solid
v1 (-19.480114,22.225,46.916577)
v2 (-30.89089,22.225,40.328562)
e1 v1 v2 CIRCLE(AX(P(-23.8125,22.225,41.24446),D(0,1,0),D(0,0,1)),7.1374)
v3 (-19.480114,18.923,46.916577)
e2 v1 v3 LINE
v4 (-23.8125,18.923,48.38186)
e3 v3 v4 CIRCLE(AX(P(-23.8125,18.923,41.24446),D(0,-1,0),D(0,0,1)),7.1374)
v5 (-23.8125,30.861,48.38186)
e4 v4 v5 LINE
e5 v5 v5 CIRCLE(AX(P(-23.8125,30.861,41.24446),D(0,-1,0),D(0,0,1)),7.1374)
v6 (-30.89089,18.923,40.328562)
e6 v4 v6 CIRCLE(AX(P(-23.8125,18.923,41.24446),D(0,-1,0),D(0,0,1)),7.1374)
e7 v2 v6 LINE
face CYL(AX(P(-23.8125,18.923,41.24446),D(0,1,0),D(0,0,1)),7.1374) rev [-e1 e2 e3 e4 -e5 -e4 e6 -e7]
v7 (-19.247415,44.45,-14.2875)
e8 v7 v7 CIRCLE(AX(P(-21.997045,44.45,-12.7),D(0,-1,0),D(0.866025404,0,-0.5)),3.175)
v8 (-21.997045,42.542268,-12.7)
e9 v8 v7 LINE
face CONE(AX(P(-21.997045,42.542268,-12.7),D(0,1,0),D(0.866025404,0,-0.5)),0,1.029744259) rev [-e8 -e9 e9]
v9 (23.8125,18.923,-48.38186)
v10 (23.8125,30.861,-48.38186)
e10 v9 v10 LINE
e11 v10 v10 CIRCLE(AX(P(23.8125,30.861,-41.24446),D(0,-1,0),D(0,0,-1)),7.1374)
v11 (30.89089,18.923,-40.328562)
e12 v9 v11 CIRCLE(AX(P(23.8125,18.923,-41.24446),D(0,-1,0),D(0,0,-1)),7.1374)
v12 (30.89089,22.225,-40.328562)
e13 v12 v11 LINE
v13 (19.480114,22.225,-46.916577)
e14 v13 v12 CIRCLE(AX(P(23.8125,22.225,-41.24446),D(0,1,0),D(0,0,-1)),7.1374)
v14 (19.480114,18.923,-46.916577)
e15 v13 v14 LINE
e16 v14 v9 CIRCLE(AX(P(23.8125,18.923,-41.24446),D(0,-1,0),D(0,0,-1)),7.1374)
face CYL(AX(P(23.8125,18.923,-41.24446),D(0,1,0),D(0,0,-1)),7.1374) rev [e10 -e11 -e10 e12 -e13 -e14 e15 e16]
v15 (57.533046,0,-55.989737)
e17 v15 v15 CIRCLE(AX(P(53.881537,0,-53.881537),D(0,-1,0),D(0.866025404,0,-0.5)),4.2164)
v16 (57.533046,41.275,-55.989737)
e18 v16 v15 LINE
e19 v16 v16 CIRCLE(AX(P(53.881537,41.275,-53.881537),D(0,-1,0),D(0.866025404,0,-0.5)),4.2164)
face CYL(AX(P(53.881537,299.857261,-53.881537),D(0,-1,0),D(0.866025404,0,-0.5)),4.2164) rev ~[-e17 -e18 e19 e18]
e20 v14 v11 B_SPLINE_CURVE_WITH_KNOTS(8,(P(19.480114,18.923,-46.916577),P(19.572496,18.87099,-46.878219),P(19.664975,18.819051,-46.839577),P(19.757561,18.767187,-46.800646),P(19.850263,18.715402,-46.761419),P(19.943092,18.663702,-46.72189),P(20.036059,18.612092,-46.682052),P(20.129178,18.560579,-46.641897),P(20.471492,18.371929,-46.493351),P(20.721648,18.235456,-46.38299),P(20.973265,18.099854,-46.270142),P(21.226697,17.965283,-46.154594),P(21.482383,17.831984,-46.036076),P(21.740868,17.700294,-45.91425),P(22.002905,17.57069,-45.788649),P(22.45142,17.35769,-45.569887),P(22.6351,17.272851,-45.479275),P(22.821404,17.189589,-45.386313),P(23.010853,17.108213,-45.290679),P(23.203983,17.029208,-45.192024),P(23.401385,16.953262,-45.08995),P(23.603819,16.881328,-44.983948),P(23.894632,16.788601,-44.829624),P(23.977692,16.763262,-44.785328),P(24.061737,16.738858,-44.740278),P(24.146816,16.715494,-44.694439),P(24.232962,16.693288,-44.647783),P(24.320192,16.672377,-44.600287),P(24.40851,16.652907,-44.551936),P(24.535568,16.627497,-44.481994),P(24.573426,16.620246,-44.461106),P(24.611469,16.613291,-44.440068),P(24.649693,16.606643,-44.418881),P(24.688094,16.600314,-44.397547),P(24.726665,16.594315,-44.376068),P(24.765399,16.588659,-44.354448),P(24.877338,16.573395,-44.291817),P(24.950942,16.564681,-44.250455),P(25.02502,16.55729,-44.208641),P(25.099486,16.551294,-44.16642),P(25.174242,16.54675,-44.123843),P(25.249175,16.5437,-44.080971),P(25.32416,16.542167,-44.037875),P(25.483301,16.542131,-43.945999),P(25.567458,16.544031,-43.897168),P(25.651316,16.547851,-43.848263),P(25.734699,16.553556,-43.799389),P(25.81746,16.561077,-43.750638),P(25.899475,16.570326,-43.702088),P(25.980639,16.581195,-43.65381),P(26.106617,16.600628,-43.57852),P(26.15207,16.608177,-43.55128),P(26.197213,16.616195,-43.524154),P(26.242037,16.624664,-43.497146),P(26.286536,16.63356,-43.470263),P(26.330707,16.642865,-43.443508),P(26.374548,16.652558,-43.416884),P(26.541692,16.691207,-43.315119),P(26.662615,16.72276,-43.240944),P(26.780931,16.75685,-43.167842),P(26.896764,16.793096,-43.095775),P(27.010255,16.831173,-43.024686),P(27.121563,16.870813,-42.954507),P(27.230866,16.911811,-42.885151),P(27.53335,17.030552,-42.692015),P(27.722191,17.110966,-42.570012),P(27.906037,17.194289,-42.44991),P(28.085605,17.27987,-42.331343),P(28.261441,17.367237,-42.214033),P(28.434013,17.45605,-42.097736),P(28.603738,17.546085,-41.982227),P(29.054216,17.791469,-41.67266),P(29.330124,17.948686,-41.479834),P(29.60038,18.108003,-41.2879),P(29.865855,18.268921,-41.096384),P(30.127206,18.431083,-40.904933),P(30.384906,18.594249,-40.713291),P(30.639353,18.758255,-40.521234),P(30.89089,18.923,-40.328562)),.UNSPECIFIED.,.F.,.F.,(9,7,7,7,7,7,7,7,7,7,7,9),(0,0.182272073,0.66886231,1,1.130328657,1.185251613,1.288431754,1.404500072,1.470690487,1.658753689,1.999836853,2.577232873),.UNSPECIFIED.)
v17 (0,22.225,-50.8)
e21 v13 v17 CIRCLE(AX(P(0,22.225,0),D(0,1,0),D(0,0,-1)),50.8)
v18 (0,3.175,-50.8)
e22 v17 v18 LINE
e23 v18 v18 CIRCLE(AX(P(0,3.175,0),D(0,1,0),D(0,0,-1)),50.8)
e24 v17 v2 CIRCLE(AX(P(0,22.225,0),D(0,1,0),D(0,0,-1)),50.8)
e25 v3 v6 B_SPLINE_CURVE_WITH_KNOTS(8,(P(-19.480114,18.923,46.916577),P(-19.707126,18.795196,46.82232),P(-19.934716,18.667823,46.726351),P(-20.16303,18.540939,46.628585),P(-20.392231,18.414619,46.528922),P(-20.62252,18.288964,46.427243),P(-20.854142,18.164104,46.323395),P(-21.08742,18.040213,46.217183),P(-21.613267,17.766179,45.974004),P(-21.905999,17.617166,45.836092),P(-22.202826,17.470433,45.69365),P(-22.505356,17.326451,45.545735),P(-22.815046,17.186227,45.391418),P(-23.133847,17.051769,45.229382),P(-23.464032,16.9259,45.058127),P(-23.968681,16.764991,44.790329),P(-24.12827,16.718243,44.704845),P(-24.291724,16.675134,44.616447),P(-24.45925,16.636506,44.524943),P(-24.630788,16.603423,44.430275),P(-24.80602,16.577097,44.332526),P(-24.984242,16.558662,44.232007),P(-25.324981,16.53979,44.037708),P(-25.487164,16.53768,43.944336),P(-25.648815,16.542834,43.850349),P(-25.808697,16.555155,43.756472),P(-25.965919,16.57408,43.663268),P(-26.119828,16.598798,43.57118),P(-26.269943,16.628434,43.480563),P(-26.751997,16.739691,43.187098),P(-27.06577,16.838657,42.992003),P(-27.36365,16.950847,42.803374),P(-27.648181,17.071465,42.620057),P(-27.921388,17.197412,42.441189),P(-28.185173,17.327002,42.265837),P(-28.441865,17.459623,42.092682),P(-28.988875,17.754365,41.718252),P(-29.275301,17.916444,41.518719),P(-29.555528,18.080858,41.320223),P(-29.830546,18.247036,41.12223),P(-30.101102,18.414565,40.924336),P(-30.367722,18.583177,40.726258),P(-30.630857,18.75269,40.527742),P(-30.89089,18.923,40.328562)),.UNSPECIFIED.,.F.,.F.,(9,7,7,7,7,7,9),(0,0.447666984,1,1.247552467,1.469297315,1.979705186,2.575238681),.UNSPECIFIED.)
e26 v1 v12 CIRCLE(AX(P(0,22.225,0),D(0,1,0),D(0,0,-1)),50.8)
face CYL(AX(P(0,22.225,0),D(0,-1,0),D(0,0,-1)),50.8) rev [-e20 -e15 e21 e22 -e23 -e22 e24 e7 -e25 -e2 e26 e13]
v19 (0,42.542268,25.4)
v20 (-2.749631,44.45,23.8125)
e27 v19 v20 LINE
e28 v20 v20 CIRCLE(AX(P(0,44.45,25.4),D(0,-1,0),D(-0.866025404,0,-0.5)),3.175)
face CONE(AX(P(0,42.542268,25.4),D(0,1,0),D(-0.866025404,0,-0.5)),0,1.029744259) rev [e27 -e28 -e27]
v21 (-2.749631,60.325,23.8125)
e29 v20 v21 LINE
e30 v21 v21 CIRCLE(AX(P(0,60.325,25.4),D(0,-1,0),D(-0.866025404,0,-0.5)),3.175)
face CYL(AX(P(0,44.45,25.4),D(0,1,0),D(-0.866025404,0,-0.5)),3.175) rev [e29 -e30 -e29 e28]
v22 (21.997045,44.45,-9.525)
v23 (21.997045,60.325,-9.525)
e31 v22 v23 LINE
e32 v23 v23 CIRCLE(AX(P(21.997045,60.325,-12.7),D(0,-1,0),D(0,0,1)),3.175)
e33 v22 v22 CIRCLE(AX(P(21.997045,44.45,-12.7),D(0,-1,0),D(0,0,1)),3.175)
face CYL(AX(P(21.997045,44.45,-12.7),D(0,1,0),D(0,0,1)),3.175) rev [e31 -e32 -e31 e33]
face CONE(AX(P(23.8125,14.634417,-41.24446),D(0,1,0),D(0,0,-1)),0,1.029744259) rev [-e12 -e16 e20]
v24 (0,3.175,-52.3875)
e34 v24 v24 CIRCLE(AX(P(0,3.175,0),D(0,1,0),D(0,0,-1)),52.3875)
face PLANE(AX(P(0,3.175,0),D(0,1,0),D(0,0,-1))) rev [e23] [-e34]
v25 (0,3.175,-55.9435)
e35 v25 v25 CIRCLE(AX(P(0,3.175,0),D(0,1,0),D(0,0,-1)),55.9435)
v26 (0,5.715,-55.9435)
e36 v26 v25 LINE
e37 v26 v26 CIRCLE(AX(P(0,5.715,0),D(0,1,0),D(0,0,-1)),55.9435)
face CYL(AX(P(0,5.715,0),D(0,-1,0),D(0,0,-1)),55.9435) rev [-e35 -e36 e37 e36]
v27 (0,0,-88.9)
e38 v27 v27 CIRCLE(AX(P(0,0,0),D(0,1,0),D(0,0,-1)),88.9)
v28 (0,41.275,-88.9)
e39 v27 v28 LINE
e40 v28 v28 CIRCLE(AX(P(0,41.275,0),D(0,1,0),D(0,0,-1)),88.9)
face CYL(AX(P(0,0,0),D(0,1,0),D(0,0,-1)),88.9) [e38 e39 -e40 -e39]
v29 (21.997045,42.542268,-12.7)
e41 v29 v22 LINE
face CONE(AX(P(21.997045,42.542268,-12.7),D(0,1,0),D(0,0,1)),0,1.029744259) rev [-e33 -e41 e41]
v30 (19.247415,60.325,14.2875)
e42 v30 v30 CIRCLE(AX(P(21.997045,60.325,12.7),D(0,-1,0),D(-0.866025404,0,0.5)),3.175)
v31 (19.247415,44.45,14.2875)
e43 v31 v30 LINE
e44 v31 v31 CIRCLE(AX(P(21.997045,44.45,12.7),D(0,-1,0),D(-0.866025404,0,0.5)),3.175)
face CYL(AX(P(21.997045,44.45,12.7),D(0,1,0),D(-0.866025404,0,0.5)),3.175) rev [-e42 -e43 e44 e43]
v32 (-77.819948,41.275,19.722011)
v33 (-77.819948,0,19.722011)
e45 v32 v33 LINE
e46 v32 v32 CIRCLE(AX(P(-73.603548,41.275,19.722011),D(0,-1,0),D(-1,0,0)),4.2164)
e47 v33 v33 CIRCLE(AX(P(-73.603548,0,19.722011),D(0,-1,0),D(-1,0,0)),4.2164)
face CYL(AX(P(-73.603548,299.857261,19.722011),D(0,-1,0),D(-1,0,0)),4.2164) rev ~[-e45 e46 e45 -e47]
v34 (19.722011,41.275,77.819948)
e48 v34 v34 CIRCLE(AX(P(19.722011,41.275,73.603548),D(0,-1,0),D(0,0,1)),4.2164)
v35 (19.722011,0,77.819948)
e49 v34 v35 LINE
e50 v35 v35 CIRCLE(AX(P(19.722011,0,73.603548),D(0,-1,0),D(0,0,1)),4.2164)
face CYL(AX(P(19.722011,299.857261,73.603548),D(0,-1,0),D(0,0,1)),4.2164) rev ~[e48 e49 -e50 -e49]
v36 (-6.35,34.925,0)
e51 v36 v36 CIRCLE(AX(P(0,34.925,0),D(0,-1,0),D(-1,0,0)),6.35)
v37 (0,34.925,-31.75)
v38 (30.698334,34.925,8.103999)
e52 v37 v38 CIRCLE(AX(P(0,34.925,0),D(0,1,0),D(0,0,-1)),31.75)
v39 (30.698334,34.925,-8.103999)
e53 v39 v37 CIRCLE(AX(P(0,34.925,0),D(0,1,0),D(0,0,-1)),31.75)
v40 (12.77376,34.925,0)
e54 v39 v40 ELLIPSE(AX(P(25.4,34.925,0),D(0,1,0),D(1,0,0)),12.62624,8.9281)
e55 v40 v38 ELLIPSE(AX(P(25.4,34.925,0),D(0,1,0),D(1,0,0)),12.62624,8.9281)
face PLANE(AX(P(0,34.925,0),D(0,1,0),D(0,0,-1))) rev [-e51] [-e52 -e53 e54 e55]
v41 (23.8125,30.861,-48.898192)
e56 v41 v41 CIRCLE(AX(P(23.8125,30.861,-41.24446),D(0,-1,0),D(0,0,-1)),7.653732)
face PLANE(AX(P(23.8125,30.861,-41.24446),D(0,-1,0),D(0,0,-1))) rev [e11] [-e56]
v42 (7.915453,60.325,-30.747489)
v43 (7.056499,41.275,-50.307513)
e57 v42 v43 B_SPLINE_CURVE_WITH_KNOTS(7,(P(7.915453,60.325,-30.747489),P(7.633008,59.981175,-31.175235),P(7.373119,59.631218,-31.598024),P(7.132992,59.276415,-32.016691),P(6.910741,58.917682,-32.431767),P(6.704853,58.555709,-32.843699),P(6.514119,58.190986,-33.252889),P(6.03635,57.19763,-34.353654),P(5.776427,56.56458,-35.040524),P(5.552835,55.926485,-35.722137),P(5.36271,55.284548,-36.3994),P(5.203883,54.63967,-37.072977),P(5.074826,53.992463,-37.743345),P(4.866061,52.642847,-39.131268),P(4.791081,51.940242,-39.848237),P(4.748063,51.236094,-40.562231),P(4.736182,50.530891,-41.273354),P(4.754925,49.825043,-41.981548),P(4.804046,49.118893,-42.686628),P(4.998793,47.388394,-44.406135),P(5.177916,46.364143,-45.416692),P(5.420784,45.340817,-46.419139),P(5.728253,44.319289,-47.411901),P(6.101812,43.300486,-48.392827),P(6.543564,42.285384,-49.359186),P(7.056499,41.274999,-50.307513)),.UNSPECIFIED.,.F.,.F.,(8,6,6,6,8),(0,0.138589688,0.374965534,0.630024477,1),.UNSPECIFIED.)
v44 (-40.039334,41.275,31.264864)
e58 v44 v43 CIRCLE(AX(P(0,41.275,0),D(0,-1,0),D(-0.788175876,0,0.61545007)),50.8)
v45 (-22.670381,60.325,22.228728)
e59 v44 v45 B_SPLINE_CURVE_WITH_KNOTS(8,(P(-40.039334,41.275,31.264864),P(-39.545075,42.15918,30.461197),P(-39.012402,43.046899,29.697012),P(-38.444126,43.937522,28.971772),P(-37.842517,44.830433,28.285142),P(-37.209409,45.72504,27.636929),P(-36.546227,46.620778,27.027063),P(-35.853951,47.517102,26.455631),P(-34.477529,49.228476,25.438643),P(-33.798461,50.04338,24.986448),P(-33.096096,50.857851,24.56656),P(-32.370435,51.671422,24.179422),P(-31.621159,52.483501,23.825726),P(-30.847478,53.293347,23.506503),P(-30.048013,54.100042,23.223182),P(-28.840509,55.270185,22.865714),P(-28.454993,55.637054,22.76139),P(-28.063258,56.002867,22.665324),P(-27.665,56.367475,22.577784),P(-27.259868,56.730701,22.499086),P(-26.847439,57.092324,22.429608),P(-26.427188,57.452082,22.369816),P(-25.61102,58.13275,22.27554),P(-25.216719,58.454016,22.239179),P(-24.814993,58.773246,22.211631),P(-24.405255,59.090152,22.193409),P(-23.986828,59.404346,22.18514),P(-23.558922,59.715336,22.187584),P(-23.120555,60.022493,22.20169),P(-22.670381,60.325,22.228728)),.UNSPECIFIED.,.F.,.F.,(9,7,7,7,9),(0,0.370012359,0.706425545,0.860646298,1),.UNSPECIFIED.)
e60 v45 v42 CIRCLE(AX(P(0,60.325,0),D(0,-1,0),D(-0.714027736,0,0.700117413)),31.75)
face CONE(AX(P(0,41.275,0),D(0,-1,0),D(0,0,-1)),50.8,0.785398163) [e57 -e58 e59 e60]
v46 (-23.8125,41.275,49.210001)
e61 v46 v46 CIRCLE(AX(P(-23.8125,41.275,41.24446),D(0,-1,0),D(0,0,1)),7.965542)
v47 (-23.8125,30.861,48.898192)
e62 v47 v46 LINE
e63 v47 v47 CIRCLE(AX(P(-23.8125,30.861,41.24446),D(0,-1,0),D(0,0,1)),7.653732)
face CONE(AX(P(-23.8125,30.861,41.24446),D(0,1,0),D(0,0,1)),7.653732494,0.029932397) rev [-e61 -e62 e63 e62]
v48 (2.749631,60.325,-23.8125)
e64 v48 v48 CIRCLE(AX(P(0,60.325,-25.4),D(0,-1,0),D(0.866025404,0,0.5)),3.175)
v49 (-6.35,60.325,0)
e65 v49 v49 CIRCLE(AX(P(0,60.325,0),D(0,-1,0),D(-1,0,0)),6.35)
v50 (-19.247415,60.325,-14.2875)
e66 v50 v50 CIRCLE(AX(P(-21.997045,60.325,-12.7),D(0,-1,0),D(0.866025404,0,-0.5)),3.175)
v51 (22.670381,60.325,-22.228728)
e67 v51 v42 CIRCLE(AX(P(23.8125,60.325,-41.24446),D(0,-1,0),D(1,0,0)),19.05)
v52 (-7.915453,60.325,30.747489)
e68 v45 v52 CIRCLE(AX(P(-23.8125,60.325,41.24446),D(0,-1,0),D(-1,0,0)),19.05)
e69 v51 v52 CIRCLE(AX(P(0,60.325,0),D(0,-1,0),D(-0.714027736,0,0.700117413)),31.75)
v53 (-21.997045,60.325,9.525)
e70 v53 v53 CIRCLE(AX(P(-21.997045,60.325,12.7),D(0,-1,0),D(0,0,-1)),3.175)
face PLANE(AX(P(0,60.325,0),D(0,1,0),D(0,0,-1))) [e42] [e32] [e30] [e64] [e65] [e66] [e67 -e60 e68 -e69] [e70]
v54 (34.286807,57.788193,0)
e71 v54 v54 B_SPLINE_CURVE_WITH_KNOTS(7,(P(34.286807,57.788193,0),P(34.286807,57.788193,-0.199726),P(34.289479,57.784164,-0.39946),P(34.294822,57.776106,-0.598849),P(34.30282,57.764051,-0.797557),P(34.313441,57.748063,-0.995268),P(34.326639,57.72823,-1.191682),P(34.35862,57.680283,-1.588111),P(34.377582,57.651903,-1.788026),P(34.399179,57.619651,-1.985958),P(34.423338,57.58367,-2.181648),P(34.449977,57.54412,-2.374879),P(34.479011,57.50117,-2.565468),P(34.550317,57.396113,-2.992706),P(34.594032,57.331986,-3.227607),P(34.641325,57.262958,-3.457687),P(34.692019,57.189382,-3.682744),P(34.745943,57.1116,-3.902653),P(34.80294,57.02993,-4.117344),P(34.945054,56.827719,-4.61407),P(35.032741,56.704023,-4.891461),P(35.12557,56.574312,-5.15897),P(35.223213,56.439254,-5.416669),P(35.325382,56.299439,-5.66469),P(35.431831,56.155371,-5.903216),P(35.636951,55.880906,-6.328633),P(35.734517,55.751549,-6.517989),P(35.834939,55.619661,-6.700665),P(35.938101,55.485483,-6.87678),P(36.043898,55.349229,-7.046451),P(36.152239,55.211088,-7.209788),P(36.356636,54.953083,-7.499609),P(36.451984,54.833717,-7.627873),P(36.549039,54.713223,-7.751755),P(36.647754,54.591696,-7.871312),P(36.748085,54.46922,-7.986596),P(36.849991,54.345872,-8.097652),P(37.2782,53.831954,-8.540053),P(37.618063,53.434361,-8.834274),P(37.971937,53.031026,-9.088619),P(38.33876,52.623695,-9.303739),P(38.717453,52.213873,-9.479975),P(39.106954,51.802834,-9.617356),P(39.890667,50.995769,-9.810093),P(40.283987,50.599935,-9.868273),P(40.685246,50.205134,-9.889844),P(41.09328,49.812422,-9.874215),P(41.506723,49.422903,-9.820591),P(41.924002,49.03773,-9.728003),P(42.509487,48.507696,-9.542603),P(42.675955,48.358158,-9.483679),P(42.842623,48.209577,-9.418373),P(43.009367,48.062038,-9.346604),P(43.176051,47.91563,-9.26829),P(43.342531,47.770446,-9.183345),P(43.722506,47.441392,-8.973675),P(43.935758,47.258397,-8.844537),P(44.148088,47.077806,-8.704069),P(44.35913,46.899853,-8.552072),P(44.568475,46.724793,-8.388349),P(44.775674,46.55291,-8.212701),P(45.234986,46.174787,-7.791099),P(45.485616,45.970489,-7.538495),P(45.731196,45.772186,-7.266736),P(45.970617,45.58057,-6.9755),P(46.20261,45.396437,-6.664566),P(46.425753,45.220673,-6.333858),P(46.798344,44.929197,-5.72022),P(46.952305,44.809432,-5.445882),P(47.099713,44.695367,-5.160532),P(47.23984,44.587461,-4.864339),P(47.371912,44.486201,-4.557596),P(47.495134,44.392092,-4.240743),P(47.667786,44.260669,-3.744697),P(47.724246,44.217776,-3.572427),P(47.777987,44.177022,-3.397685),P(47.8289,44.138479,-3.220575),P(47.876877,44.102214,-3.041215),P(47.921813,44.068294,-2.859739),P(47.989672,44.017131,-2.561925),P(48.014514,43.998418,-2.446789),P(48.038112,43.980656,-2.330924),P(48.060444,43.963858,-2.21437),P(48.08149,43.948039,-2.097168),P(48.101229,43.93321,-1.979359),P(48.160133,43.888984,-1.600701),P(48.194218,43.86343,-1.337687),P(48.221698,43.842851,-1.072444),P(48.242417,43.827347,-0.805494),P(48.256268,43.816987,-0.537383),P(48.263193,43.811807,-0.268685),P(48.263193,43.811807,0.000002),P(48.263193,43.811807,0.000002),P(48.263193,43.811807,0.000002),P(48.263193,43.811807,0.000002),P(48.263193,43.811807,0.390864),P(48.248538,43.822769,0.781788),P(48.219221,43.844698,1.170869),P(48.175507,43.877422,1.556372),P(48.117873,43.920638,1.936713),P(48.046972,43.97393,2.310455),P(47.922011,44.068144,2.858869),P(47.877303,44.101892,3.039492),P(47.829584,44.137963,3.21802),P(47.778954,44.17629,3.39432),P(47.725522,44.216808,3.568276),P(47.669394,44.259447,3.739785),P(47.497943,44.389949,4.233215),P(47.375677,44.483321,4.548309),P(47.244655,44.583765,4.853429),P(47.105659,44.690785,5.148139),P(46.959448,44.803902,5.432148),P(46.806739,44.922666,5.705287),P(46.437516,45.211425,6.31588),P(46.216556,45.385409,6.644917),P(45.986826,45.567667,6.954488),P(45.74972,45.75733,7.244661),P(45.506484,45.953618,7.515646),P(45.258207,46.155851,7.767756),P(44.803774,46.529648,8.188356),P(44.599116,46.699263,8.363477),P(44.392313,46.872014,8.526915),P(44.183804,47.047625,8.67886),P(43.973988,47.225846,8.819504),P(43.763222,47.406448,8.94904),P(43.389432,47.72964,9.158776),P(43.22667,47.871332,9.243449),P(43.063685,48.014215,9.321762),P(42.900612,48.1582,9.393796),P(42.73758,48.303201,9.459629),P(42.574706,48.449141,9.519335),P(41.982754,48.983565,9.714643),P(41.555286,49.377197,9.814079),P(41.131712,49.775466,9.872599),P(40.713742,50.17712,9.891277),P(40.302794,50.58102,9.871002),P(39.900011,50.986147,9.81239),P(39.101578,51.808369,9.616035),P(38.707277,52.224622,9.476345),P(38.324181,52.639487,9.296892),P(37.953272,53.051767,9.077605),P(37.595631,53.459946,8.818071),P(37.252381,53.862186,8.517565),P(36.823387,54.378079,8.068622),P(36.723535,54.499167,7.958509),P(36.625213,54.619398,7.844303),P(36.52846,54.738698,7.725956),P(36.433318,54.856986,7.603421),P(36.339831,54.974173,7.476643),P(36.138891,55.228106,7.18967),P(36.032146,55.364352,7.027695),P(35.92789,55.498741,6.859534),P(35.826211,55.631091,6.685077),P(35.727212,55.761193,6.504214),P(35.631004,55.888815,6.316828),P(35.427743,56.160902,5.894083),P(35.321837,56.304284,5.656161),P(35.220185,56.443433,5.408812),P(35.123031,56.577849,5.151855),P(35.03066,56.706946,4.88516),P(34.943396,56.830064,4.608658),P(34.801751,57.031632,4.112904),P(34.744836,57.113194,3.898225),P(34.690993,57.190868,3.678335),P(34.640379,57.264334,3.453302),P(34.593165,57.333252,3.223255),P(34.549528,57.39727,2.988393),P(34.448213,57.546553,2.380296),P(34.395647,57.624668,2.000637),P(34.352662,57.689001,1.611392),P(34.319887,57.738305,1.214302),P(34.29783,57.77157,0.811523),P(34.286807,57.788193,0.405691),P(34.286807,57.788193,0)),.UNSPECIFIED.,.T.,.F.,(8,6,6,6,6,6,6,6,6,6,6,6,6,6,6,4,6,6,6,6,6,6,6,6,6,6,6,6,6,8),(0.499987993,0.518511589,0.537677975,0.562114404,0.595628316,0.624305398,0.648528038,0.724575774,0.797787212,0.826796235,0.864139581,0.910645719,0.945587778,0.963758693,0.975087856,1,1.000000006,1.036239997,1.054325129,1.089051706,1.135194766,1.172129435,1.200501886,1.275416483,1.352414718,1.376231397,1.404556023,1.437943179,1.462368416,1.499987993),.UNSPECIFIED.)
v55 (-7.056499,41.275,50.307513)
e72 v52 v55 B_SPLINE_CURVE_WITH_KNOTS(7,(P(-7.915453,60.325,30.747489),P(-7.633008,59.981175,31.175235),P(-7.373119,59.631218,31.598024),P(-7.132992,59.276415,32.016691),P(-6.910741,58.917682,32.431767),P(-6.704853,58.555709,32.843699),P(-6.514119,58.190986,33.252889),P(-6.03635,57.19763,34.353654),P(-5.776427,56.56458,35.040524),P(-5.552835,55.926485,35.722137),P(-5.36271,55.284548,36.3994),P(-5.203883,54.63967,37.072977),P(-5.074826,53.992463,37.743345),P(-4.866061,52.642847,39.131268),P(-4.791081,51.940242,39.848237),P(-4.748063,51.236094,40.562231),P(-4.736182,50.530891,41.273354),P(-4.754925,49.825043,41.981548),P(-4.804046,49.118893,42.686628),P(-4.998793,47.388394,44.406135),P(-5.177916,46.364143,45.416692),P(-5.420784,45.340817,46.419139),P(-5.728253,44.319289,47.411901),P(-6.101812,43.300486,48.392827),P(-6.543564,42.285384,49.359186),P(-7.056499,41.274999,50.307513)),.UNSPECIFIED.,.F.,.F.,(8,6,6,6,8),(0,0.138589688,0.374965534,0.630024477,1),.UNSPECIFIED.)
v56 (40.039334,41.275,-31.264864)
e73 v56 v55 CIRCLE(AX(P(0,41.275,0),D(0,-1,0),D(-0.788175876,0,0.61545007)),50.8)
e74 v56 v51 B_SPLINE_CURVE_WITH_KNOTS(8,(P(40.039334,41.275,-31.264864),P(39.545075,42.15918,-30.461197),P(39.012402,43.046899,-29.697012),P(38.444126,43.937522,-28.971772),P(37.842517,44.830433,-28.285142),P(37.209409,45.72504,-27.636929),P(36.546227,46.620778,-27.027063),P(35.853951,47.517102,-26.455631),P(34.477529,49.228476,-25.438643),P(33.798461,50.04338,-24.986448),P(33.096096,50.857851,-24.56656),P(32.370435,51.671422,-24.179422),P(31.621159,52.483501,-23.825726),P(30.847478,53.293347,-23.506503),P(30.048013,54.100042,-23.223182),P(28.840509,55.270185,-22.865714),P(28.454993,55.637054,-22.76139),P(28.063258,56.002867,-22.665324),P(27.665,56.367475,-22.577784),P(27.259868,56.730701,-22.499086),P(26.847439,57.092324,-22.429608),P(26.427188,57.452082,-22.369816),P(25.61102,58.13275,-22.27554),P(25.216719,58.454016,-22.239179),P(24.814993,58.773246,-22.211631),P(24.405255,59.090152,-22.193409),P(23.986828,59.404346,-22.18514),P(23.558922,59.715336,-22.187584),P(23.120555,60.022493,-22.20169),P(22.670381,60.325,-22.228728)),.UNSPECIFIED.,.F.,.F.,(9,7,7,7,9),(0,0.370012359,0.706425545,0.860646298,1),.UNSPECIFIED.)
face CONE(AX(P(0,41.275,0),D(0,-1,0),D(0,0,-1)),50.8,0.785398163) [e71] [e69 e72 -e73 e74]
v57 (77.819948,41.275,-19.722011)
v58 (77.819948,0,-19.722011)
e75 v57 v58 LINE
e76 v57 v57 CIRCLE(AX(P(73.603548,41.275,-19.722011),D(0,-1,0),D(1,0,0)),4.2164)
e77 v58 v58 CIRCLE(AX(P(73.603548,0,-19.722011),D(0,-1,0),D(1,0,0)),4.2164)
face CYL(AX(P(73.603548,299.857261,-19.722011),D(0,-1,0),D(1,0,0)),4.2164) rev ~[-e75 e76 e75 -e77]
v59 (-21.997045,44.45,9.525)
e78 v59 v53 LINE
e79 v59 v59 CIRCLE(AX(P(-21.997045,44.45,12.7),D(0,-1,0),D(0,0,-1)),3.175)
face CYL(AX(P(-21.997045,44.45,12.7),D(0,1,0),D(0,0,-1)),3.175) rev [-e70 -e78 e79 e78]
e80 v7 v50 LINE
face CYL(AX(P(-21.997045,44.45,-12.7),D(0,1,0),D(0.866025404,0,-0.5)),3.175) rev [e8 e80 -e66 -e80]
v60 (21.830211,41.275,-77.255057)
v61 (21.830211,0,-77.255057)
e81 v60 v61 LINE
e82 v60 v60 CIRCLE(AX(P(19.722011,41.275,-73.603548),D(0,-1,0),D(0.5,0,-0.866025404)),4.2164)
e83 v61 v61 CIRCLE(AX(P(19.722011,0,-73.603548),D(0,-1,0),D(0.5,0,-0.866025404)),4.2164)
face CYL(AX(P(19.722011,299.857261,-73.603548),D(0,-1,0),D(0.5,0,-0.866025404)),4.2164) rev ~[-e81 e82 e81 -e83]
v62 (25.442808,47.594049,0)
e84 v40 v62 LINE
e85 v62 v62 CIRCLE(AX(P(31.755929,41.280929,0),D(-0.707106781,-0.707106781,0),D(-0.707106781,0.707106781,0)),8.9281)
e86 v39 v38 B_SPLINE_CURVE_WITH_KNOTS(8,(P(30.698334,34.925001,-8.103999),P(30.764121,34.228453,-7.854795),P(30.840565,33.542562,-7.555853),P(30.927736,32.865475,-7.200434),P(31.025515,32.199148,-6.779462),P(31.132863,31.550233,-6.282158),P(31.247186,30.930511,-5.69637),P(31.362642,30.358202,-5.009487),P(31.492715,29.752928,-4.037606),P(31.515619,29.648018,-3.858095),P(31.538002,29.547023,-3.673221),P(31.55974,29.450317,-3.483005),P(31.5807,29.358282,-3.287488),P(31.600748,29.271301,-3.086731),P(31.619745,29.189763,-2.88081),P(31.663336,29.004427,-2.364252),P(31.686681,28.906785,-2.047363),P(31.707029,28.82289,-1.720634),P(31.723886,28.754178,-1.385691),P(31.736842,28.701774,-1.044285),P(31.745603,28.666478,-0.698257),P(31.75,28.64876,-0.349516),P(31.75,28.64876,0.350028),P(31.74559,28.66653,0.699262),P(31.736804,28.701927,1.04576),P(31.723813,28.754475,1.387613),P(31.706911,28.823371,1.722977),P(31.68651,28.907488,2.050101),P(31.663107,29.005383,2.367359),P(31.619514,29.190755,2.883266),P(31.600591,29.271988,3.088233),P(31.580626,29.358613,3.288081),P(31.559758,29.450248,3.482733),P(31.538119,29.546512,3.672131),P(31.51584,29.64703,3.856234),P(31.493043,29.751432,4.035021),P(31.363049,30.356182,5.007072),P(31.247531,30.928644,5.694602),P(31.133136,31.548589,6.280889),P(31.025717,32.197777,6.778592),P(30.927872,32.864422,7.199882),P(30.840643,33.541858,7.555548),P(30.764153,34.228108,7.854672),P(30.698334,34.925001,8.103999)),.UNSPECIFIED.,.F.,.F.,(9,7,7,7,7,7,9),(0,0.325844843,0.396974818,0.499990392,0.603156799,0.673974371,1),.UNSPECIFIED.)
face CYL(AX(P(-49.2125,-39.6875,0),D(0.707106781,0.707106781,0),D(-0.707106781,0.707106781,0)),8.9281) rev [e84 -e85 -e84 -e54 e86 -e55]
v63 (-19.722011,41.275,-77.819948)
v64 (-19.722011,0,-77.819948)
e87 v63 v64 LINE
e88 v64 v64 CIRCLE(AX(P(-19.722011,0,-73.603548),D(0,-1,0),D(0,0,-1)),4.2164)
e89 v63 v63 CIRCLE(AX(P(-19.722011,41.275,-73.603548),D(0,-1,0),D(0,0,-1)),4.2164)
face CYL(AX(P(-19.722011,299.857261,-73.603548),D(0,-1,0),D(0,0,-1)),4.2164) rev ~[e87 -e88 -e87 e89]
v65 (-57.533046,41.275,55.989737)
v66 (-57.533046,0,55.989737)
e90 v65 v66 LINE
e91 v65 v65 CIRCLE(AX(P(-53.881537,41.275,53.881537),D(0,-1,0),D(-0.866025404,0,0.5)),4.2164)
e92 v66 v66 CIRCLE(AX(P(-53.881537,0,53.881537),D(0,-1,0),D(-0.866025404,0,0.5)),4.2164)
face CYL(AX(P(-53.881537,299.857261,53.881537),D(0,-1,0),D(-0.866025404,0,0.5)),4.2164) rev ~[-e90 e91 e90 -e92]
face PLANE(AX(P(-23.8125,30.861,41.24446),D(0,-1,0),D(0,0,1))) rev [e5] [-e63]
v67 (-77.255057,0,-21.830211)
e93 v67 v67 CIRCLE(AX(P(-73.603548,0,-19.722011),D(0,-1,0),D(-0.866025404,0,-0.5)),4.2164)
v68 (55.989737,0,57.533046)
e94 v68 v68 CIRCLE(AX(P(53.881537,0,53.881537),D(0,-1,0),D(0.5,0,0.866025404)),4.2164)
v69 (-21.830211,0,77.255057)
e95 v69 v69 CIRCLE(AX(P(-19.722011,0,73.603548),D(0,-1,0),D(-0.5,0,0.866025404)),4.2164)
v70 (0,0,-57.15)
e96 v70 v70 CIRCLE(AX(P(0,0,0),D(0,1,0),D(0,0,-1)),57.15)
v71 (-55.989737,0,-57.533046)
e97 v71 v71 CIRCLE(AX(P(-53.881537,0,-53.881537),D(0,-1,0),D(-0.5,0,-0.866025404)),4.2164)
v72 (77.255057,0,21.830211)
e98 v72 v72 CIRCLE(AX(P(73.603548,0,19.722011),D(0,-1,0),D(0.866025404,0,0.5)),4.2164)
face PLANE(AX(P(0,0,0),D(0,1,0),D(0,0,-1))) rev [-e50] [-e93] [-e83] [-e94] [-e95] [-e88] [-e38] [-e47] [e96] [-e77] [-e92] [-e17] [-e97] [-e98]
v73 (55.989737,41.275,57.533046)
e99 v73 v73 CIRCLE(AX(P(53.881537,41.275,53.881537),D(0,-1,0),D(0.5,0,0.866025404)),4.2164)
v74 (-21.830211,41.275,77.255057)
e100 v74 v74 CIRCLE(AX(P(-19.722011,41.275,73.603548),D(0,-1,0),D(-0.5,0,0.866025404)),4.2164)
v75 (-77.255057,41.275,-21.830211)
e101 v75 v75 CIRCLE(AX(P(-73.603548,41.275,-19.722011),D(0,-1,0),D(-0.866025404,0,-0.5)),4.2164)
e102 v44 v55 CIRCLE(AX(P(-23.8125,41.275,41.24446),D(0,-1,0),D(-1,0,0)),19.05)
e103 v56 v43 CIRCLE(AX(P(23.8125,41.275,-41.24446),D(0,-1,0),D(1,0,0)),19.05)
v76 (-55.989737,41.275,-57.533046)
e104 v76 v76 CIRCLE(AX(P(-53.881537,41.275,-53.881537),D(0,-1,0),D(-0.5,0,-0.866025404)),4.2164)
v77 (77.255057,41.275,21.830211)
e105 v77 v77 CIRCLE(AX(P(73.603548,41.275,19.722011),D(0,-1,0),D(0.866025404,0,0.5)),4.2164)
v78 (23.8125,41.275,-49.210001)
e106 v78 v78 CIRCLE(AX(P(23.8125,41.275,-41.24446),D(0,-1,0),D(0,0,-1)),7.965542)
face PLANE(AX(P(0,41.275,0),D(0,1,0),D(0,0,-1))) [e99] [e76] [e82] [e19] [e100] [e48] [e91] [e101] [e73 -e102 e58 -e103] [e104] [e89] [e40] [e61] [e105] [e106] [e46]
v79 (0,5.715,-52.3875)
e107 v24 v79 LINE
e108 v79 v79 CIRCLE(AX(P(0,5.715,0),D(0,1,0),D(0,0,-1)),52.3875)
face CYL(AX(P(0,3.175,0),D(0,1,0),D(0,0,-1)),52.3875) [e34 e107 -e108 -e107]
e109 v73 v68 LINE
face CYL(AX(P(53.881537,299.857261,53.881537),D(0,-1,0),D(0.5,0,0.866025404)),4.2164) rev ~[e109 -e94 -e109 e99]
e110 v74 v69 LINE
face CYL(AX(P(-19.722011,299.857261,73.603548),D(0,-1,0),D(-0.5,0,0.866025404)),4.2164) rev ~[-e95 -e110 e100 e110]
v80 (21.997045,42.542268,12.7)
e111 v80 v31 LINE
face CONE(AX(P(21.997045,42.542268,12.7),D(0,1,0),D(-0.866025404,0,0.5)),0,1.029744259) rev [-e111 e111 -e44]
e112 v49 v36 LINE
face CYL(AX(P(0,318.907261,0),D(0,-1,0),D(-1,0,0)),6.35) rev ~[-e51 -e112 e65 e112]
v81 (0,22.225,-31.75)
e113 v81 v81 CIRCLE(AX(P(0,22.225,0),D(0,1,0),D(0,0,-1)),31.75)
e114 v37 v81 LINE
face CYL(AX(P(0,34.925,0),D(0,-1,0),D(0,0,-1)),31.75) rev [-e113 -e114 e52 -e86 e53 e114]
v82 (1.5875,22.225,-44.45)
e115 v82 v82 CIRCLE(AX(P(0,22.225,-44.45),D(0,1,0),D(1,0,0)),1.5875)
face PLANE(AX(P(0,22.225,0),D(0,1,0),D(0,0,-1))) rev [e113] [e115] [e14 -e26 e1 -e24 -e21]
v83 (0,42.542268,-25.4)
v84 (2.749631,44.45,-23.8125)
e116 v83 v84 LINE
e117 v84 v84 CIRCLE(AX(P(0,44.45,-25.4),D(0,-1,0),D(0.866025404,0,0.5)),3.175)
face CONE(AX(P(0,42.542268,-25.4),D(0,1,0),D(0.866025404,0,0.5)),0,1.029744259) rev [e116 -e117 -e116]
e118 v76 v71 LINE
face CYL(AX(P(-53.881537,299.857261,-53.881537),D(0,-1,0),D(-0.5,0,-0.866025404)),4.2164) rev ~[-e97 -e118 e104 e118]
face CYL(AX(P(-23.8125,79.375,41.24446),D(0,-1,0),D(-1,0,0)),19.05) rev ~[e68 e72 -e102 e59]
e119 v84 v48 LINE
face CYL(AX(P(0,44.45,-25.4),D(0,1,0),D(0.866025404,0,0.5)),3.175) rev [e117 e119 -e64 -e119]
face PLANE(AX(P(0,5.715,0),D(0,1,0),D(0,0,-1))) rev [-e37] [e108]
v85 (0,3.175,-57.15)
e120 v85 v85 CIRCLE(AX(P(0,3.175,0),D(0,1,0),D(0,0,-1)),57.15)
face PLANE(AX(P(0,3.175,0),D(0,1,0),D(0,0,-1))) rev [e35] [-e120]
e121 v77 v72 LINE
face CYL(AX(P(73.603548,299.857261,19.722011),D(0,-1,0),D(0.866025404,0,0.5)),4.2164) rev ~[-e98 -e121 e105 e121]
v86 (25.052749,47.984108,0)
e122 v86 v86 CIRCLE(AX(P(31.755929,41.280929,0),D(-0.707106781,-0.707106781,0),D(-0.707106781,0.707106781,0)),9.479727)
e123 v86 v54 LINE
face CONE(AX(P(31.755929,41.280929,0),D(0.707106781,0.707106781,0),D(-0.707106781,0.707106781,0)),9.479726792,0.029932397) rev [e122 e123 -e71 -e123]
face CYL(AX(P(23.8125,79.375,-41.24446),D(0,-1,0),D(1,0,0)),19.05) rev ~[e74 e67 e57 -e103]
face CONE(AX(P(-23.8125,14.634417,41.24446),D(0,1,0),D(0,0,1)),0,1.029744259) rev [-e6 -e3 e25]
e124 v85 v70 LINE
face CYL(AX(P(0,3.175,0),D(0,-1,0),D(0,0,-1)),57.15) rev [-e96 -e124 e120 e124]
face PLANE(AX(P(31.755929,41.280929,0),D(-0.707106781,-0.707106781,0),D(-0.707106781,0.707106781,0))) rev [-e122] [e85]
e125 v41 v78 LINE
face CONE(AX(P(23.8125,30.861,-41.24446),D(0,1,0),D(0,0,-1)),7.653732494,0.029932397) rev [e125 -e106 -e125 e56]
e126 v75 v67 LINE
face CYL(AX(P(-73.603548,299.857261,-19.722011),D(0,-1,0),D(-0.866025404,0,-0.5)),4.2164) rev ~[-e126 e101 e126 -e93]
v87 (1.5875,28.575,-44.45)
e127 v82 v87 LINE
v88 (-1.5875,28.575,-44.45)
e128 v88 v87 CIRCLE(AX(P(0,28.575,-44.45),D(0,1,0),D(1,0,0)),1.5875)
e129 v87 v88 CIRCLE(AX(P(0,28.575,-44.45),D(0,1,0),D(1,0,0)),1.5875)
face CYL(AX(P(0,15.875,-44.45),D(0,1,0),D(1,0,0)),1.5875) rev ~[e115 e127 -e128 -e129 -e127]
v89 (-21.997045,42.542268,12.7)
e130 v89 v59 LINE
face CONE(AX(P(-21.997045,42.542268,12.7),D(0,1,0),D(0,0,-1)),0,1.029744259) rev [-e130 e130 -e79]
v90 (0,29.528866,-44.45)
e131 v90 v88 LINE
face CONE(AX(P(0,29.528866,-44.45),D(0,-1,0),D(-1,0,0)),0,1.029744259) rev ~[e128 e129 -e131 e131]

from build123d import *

# Parameters (mm, degrees)
F_5_16_CLEARANCE_HOLE1_D         = 8.4328
CIRPATTERN1_COUNT                = 12
F_1_2_0_5_DIAMETER_HOLE1_D       = 12.7
F_1_1_5_DIAMETER_HOLE1_D         = 38.1
F_1_1_5_DIAMETER_HOLE1_DEPTH     = 19.05
CIRPATTERN2_COUNT                = 6
CIRPATTERN3_COUNT                = 2
F_1_8_0_125_DIAMETER_HOLE1_D     = 3.175
F_1_8_0_125_DIAMETER_HOLE1_DEPTH = 6.35
F_1_8_0_125_DIAMETER_HOLE1_TIP   = 0.953866233


with BuildPart() as part:
    # Sketch1 → Revolve1 (revolve)
    with BuildSketch(Plane.XY, mode=Mode.PRIVATE) as revolve1_sk:
        Polygon((-88.9, 0), (-88.9, 41.275), (-50.8, 41.275), (-31.75, 60.325), (0, 60.325), (0, 34.925), (-31.75, 34.925), (-31.75, 22.225), (-50.8, 22.225), (-50.8, 3.175), (-52.3875, 3.175), (-52.3875, 5.715), (-55.9435, 5.715), (-55.9435, 3.175), (-57.15, 3.175), (-57.15, 0), align=None)
    revolve(revolve1_sk.sketch.rotate(Axis((0, 0, 0), (0, 1, 0)), 270), axis=Axis((0, 0, 0), (0, 1, 0)))

    # 5/16 Clearance Hole1 (through all)
    with Locations(Plane(origin=(0, 41.275, 0), x_dir=(1, 0, 0), z_dir=(0, 1, 0))):
        with Locations((-73.603547963, -19.722011237)):
            f_5_16_clearance_hole1 = Hole(F_5_16_CLEARANCE_HOLE1_D / 2)

    # CirPattern1: 5/16 Clearance Hole1 ×12 about axis
    cirpattern1_axis = Axis((0, 0, 0), (0, 1, 0))
    for i in range(1, CIRPATTERN1_COUNT):
        add(f_5_16_clearance_hole1.rotate(cirpattern1_axis, i * 360 / CIRPATTERN1_COUNT), mode=Mode.SUBTRACT)

    # 1/2 (0.5) Diameter Hole1 (through all)
    with Locations(Plane(origin=(0, 60.325, 0), x_dir=(1, 0, 0), z_dir=(0, 1, 0))):
        with Locations((0, 0)):
            Hole(F_1_2_0_5_DIAMETER_HOLE1_D / 2)

    # Sketch11 → 1/2 NPT Tapped Hole1 (revolve, cut)
    with BuildSketch(Plane(origin=(41.275, 50.8, 0), x_dir=(-0.707106781186546, 0.707106781186549, 0), z_dir=(0, 0, 1))):
        Polygon((0, 0), (0, 127.968649725), (8.9281, 127.968649725), (8.9281, 13.462), (9.479726792, 13.462), (9.8827971, 0), align=None)
    revolve(axis=Axis((45.765128061, 55.290128061, 0), (-0.707106781186549, -0.707106781186546, 0)), mode=Mode.SUBTRACT)

    # 1 (1.5) Diameter Hole1
    with Locations(Plane(origin=(0, 60.325, 0), x_dir=(1, 0, 0), z_dir=(0, 1, 0))):
        with Locations((-23.8125, -41.244459855)):
            f_1_1_5_diameter_hole1 = Hole(F_1_1_5_DIAMETER_HOLE1_D / 2, depth=F_1_1_5_DIAMETER_HOLE1_DEPTH)

    # Sketch19 → 3/8 NPT Tapped Hole1 (revolve, cut)
    with BuildSketch(Plane(origin=(-23.8125, 41.275, 41.244459855), x_dir=(0, 0, 1), z_dir=(1, 0, 0))):
        Polygon((0, 0), (0, 26.640582582), (7.1374, 22.352), (7.1374, 10.414), (7.653732494, 10.414), (7.9655416, 0), align=None)
    f_3_8_npt_tapped_hole1 = revolve(axis=Axis((-23.8125, 47.625, 41.244459855), (0, -1, 0)), mode=Mode.SUBTRACT)

    # Sketch21 → 1/4 (0.25) Diameter Hole1 (revolve, cut)
    with BuildSketch(Plane(origin=(21.997045256, 60.325, -12.7), x_dir=(0, 0, 1), z_dir=(1, 0, 0))):
        Polygon((0, 0), (0, 17.782732465), (3.175, 15.875), (3.175, 0), align=None)
    f_1_4_0_25_diameter_hole1 = revolve(axis=Axis((21.997045256, 66.675, -12.7), (0, -1, 0)), mode=Mode.SUBTRACT)

    # CirPattern2: 1/4 (0.25) Diameter Hole1 ×6 about axis
    cirpattern2_axis = Axis((0, 0, 0), (0, 1, 0))
    for i in range(1, CIRPATTERN2_COUNT):
        add(f_1_4_0_25_diameter_hole1.rotate(cirpattern2_axis, i * 360 / CIRPATTERN2_COUNT), mode=Mode.SUBTRACT)

    # CirPattern3: 1 (1.5) Diameter Hole1, 3/8 NPT Tapped Hole1 ×2 about axis
    cirpattern3_axis = Axis((0, 0, 0), (0, 1, 0))
    add([f_1_1_5_diameter_hole1.rotate(cirpattern3_axis, i * 360 / CIRPATTERN3_COUNT) for i in range(1, CIRPATTERN3_COUNT)], mode=Mode.SUBTRACT)
    add([f_3_8_npt_tapped_hole1.rotate(cirpattern3_axis, i * 360 / CIRPATTERN3_COUNT) for i in range(1, CIRPATTERN3_COUNT)], mode=Mode.SUBTRACT)

    # 1/8 (0.125) Diameter Hole1
    with Locations(Plane(origin=(0, 22.225, 0), x_dir=(-1, 0, 0), z_dir=(0, -1, 0))):
        with Locations((0, 44.45)):
            Hole(F_1_8_0_125_DIAMETER_HOLE1_D / 2, depth=F_1_8_0_125_DIAMETER_HOLE1_DEPTH)
            with Locations((0, 0, -(F_1_8_0_125_DIAMETER_HOLE1_DEPTH + F_1_8_0_125_DIAMETER_HOLE1_TIP / 2))):  # 118° drill point
                Cone(0, F_1_8_0_125_DIAMETER_HOLE1_D / 2, F_1_8_0_125_DIAMETER_HOLE1_TIP, mode=Mode.SUBTRACT)


solid = part.part
